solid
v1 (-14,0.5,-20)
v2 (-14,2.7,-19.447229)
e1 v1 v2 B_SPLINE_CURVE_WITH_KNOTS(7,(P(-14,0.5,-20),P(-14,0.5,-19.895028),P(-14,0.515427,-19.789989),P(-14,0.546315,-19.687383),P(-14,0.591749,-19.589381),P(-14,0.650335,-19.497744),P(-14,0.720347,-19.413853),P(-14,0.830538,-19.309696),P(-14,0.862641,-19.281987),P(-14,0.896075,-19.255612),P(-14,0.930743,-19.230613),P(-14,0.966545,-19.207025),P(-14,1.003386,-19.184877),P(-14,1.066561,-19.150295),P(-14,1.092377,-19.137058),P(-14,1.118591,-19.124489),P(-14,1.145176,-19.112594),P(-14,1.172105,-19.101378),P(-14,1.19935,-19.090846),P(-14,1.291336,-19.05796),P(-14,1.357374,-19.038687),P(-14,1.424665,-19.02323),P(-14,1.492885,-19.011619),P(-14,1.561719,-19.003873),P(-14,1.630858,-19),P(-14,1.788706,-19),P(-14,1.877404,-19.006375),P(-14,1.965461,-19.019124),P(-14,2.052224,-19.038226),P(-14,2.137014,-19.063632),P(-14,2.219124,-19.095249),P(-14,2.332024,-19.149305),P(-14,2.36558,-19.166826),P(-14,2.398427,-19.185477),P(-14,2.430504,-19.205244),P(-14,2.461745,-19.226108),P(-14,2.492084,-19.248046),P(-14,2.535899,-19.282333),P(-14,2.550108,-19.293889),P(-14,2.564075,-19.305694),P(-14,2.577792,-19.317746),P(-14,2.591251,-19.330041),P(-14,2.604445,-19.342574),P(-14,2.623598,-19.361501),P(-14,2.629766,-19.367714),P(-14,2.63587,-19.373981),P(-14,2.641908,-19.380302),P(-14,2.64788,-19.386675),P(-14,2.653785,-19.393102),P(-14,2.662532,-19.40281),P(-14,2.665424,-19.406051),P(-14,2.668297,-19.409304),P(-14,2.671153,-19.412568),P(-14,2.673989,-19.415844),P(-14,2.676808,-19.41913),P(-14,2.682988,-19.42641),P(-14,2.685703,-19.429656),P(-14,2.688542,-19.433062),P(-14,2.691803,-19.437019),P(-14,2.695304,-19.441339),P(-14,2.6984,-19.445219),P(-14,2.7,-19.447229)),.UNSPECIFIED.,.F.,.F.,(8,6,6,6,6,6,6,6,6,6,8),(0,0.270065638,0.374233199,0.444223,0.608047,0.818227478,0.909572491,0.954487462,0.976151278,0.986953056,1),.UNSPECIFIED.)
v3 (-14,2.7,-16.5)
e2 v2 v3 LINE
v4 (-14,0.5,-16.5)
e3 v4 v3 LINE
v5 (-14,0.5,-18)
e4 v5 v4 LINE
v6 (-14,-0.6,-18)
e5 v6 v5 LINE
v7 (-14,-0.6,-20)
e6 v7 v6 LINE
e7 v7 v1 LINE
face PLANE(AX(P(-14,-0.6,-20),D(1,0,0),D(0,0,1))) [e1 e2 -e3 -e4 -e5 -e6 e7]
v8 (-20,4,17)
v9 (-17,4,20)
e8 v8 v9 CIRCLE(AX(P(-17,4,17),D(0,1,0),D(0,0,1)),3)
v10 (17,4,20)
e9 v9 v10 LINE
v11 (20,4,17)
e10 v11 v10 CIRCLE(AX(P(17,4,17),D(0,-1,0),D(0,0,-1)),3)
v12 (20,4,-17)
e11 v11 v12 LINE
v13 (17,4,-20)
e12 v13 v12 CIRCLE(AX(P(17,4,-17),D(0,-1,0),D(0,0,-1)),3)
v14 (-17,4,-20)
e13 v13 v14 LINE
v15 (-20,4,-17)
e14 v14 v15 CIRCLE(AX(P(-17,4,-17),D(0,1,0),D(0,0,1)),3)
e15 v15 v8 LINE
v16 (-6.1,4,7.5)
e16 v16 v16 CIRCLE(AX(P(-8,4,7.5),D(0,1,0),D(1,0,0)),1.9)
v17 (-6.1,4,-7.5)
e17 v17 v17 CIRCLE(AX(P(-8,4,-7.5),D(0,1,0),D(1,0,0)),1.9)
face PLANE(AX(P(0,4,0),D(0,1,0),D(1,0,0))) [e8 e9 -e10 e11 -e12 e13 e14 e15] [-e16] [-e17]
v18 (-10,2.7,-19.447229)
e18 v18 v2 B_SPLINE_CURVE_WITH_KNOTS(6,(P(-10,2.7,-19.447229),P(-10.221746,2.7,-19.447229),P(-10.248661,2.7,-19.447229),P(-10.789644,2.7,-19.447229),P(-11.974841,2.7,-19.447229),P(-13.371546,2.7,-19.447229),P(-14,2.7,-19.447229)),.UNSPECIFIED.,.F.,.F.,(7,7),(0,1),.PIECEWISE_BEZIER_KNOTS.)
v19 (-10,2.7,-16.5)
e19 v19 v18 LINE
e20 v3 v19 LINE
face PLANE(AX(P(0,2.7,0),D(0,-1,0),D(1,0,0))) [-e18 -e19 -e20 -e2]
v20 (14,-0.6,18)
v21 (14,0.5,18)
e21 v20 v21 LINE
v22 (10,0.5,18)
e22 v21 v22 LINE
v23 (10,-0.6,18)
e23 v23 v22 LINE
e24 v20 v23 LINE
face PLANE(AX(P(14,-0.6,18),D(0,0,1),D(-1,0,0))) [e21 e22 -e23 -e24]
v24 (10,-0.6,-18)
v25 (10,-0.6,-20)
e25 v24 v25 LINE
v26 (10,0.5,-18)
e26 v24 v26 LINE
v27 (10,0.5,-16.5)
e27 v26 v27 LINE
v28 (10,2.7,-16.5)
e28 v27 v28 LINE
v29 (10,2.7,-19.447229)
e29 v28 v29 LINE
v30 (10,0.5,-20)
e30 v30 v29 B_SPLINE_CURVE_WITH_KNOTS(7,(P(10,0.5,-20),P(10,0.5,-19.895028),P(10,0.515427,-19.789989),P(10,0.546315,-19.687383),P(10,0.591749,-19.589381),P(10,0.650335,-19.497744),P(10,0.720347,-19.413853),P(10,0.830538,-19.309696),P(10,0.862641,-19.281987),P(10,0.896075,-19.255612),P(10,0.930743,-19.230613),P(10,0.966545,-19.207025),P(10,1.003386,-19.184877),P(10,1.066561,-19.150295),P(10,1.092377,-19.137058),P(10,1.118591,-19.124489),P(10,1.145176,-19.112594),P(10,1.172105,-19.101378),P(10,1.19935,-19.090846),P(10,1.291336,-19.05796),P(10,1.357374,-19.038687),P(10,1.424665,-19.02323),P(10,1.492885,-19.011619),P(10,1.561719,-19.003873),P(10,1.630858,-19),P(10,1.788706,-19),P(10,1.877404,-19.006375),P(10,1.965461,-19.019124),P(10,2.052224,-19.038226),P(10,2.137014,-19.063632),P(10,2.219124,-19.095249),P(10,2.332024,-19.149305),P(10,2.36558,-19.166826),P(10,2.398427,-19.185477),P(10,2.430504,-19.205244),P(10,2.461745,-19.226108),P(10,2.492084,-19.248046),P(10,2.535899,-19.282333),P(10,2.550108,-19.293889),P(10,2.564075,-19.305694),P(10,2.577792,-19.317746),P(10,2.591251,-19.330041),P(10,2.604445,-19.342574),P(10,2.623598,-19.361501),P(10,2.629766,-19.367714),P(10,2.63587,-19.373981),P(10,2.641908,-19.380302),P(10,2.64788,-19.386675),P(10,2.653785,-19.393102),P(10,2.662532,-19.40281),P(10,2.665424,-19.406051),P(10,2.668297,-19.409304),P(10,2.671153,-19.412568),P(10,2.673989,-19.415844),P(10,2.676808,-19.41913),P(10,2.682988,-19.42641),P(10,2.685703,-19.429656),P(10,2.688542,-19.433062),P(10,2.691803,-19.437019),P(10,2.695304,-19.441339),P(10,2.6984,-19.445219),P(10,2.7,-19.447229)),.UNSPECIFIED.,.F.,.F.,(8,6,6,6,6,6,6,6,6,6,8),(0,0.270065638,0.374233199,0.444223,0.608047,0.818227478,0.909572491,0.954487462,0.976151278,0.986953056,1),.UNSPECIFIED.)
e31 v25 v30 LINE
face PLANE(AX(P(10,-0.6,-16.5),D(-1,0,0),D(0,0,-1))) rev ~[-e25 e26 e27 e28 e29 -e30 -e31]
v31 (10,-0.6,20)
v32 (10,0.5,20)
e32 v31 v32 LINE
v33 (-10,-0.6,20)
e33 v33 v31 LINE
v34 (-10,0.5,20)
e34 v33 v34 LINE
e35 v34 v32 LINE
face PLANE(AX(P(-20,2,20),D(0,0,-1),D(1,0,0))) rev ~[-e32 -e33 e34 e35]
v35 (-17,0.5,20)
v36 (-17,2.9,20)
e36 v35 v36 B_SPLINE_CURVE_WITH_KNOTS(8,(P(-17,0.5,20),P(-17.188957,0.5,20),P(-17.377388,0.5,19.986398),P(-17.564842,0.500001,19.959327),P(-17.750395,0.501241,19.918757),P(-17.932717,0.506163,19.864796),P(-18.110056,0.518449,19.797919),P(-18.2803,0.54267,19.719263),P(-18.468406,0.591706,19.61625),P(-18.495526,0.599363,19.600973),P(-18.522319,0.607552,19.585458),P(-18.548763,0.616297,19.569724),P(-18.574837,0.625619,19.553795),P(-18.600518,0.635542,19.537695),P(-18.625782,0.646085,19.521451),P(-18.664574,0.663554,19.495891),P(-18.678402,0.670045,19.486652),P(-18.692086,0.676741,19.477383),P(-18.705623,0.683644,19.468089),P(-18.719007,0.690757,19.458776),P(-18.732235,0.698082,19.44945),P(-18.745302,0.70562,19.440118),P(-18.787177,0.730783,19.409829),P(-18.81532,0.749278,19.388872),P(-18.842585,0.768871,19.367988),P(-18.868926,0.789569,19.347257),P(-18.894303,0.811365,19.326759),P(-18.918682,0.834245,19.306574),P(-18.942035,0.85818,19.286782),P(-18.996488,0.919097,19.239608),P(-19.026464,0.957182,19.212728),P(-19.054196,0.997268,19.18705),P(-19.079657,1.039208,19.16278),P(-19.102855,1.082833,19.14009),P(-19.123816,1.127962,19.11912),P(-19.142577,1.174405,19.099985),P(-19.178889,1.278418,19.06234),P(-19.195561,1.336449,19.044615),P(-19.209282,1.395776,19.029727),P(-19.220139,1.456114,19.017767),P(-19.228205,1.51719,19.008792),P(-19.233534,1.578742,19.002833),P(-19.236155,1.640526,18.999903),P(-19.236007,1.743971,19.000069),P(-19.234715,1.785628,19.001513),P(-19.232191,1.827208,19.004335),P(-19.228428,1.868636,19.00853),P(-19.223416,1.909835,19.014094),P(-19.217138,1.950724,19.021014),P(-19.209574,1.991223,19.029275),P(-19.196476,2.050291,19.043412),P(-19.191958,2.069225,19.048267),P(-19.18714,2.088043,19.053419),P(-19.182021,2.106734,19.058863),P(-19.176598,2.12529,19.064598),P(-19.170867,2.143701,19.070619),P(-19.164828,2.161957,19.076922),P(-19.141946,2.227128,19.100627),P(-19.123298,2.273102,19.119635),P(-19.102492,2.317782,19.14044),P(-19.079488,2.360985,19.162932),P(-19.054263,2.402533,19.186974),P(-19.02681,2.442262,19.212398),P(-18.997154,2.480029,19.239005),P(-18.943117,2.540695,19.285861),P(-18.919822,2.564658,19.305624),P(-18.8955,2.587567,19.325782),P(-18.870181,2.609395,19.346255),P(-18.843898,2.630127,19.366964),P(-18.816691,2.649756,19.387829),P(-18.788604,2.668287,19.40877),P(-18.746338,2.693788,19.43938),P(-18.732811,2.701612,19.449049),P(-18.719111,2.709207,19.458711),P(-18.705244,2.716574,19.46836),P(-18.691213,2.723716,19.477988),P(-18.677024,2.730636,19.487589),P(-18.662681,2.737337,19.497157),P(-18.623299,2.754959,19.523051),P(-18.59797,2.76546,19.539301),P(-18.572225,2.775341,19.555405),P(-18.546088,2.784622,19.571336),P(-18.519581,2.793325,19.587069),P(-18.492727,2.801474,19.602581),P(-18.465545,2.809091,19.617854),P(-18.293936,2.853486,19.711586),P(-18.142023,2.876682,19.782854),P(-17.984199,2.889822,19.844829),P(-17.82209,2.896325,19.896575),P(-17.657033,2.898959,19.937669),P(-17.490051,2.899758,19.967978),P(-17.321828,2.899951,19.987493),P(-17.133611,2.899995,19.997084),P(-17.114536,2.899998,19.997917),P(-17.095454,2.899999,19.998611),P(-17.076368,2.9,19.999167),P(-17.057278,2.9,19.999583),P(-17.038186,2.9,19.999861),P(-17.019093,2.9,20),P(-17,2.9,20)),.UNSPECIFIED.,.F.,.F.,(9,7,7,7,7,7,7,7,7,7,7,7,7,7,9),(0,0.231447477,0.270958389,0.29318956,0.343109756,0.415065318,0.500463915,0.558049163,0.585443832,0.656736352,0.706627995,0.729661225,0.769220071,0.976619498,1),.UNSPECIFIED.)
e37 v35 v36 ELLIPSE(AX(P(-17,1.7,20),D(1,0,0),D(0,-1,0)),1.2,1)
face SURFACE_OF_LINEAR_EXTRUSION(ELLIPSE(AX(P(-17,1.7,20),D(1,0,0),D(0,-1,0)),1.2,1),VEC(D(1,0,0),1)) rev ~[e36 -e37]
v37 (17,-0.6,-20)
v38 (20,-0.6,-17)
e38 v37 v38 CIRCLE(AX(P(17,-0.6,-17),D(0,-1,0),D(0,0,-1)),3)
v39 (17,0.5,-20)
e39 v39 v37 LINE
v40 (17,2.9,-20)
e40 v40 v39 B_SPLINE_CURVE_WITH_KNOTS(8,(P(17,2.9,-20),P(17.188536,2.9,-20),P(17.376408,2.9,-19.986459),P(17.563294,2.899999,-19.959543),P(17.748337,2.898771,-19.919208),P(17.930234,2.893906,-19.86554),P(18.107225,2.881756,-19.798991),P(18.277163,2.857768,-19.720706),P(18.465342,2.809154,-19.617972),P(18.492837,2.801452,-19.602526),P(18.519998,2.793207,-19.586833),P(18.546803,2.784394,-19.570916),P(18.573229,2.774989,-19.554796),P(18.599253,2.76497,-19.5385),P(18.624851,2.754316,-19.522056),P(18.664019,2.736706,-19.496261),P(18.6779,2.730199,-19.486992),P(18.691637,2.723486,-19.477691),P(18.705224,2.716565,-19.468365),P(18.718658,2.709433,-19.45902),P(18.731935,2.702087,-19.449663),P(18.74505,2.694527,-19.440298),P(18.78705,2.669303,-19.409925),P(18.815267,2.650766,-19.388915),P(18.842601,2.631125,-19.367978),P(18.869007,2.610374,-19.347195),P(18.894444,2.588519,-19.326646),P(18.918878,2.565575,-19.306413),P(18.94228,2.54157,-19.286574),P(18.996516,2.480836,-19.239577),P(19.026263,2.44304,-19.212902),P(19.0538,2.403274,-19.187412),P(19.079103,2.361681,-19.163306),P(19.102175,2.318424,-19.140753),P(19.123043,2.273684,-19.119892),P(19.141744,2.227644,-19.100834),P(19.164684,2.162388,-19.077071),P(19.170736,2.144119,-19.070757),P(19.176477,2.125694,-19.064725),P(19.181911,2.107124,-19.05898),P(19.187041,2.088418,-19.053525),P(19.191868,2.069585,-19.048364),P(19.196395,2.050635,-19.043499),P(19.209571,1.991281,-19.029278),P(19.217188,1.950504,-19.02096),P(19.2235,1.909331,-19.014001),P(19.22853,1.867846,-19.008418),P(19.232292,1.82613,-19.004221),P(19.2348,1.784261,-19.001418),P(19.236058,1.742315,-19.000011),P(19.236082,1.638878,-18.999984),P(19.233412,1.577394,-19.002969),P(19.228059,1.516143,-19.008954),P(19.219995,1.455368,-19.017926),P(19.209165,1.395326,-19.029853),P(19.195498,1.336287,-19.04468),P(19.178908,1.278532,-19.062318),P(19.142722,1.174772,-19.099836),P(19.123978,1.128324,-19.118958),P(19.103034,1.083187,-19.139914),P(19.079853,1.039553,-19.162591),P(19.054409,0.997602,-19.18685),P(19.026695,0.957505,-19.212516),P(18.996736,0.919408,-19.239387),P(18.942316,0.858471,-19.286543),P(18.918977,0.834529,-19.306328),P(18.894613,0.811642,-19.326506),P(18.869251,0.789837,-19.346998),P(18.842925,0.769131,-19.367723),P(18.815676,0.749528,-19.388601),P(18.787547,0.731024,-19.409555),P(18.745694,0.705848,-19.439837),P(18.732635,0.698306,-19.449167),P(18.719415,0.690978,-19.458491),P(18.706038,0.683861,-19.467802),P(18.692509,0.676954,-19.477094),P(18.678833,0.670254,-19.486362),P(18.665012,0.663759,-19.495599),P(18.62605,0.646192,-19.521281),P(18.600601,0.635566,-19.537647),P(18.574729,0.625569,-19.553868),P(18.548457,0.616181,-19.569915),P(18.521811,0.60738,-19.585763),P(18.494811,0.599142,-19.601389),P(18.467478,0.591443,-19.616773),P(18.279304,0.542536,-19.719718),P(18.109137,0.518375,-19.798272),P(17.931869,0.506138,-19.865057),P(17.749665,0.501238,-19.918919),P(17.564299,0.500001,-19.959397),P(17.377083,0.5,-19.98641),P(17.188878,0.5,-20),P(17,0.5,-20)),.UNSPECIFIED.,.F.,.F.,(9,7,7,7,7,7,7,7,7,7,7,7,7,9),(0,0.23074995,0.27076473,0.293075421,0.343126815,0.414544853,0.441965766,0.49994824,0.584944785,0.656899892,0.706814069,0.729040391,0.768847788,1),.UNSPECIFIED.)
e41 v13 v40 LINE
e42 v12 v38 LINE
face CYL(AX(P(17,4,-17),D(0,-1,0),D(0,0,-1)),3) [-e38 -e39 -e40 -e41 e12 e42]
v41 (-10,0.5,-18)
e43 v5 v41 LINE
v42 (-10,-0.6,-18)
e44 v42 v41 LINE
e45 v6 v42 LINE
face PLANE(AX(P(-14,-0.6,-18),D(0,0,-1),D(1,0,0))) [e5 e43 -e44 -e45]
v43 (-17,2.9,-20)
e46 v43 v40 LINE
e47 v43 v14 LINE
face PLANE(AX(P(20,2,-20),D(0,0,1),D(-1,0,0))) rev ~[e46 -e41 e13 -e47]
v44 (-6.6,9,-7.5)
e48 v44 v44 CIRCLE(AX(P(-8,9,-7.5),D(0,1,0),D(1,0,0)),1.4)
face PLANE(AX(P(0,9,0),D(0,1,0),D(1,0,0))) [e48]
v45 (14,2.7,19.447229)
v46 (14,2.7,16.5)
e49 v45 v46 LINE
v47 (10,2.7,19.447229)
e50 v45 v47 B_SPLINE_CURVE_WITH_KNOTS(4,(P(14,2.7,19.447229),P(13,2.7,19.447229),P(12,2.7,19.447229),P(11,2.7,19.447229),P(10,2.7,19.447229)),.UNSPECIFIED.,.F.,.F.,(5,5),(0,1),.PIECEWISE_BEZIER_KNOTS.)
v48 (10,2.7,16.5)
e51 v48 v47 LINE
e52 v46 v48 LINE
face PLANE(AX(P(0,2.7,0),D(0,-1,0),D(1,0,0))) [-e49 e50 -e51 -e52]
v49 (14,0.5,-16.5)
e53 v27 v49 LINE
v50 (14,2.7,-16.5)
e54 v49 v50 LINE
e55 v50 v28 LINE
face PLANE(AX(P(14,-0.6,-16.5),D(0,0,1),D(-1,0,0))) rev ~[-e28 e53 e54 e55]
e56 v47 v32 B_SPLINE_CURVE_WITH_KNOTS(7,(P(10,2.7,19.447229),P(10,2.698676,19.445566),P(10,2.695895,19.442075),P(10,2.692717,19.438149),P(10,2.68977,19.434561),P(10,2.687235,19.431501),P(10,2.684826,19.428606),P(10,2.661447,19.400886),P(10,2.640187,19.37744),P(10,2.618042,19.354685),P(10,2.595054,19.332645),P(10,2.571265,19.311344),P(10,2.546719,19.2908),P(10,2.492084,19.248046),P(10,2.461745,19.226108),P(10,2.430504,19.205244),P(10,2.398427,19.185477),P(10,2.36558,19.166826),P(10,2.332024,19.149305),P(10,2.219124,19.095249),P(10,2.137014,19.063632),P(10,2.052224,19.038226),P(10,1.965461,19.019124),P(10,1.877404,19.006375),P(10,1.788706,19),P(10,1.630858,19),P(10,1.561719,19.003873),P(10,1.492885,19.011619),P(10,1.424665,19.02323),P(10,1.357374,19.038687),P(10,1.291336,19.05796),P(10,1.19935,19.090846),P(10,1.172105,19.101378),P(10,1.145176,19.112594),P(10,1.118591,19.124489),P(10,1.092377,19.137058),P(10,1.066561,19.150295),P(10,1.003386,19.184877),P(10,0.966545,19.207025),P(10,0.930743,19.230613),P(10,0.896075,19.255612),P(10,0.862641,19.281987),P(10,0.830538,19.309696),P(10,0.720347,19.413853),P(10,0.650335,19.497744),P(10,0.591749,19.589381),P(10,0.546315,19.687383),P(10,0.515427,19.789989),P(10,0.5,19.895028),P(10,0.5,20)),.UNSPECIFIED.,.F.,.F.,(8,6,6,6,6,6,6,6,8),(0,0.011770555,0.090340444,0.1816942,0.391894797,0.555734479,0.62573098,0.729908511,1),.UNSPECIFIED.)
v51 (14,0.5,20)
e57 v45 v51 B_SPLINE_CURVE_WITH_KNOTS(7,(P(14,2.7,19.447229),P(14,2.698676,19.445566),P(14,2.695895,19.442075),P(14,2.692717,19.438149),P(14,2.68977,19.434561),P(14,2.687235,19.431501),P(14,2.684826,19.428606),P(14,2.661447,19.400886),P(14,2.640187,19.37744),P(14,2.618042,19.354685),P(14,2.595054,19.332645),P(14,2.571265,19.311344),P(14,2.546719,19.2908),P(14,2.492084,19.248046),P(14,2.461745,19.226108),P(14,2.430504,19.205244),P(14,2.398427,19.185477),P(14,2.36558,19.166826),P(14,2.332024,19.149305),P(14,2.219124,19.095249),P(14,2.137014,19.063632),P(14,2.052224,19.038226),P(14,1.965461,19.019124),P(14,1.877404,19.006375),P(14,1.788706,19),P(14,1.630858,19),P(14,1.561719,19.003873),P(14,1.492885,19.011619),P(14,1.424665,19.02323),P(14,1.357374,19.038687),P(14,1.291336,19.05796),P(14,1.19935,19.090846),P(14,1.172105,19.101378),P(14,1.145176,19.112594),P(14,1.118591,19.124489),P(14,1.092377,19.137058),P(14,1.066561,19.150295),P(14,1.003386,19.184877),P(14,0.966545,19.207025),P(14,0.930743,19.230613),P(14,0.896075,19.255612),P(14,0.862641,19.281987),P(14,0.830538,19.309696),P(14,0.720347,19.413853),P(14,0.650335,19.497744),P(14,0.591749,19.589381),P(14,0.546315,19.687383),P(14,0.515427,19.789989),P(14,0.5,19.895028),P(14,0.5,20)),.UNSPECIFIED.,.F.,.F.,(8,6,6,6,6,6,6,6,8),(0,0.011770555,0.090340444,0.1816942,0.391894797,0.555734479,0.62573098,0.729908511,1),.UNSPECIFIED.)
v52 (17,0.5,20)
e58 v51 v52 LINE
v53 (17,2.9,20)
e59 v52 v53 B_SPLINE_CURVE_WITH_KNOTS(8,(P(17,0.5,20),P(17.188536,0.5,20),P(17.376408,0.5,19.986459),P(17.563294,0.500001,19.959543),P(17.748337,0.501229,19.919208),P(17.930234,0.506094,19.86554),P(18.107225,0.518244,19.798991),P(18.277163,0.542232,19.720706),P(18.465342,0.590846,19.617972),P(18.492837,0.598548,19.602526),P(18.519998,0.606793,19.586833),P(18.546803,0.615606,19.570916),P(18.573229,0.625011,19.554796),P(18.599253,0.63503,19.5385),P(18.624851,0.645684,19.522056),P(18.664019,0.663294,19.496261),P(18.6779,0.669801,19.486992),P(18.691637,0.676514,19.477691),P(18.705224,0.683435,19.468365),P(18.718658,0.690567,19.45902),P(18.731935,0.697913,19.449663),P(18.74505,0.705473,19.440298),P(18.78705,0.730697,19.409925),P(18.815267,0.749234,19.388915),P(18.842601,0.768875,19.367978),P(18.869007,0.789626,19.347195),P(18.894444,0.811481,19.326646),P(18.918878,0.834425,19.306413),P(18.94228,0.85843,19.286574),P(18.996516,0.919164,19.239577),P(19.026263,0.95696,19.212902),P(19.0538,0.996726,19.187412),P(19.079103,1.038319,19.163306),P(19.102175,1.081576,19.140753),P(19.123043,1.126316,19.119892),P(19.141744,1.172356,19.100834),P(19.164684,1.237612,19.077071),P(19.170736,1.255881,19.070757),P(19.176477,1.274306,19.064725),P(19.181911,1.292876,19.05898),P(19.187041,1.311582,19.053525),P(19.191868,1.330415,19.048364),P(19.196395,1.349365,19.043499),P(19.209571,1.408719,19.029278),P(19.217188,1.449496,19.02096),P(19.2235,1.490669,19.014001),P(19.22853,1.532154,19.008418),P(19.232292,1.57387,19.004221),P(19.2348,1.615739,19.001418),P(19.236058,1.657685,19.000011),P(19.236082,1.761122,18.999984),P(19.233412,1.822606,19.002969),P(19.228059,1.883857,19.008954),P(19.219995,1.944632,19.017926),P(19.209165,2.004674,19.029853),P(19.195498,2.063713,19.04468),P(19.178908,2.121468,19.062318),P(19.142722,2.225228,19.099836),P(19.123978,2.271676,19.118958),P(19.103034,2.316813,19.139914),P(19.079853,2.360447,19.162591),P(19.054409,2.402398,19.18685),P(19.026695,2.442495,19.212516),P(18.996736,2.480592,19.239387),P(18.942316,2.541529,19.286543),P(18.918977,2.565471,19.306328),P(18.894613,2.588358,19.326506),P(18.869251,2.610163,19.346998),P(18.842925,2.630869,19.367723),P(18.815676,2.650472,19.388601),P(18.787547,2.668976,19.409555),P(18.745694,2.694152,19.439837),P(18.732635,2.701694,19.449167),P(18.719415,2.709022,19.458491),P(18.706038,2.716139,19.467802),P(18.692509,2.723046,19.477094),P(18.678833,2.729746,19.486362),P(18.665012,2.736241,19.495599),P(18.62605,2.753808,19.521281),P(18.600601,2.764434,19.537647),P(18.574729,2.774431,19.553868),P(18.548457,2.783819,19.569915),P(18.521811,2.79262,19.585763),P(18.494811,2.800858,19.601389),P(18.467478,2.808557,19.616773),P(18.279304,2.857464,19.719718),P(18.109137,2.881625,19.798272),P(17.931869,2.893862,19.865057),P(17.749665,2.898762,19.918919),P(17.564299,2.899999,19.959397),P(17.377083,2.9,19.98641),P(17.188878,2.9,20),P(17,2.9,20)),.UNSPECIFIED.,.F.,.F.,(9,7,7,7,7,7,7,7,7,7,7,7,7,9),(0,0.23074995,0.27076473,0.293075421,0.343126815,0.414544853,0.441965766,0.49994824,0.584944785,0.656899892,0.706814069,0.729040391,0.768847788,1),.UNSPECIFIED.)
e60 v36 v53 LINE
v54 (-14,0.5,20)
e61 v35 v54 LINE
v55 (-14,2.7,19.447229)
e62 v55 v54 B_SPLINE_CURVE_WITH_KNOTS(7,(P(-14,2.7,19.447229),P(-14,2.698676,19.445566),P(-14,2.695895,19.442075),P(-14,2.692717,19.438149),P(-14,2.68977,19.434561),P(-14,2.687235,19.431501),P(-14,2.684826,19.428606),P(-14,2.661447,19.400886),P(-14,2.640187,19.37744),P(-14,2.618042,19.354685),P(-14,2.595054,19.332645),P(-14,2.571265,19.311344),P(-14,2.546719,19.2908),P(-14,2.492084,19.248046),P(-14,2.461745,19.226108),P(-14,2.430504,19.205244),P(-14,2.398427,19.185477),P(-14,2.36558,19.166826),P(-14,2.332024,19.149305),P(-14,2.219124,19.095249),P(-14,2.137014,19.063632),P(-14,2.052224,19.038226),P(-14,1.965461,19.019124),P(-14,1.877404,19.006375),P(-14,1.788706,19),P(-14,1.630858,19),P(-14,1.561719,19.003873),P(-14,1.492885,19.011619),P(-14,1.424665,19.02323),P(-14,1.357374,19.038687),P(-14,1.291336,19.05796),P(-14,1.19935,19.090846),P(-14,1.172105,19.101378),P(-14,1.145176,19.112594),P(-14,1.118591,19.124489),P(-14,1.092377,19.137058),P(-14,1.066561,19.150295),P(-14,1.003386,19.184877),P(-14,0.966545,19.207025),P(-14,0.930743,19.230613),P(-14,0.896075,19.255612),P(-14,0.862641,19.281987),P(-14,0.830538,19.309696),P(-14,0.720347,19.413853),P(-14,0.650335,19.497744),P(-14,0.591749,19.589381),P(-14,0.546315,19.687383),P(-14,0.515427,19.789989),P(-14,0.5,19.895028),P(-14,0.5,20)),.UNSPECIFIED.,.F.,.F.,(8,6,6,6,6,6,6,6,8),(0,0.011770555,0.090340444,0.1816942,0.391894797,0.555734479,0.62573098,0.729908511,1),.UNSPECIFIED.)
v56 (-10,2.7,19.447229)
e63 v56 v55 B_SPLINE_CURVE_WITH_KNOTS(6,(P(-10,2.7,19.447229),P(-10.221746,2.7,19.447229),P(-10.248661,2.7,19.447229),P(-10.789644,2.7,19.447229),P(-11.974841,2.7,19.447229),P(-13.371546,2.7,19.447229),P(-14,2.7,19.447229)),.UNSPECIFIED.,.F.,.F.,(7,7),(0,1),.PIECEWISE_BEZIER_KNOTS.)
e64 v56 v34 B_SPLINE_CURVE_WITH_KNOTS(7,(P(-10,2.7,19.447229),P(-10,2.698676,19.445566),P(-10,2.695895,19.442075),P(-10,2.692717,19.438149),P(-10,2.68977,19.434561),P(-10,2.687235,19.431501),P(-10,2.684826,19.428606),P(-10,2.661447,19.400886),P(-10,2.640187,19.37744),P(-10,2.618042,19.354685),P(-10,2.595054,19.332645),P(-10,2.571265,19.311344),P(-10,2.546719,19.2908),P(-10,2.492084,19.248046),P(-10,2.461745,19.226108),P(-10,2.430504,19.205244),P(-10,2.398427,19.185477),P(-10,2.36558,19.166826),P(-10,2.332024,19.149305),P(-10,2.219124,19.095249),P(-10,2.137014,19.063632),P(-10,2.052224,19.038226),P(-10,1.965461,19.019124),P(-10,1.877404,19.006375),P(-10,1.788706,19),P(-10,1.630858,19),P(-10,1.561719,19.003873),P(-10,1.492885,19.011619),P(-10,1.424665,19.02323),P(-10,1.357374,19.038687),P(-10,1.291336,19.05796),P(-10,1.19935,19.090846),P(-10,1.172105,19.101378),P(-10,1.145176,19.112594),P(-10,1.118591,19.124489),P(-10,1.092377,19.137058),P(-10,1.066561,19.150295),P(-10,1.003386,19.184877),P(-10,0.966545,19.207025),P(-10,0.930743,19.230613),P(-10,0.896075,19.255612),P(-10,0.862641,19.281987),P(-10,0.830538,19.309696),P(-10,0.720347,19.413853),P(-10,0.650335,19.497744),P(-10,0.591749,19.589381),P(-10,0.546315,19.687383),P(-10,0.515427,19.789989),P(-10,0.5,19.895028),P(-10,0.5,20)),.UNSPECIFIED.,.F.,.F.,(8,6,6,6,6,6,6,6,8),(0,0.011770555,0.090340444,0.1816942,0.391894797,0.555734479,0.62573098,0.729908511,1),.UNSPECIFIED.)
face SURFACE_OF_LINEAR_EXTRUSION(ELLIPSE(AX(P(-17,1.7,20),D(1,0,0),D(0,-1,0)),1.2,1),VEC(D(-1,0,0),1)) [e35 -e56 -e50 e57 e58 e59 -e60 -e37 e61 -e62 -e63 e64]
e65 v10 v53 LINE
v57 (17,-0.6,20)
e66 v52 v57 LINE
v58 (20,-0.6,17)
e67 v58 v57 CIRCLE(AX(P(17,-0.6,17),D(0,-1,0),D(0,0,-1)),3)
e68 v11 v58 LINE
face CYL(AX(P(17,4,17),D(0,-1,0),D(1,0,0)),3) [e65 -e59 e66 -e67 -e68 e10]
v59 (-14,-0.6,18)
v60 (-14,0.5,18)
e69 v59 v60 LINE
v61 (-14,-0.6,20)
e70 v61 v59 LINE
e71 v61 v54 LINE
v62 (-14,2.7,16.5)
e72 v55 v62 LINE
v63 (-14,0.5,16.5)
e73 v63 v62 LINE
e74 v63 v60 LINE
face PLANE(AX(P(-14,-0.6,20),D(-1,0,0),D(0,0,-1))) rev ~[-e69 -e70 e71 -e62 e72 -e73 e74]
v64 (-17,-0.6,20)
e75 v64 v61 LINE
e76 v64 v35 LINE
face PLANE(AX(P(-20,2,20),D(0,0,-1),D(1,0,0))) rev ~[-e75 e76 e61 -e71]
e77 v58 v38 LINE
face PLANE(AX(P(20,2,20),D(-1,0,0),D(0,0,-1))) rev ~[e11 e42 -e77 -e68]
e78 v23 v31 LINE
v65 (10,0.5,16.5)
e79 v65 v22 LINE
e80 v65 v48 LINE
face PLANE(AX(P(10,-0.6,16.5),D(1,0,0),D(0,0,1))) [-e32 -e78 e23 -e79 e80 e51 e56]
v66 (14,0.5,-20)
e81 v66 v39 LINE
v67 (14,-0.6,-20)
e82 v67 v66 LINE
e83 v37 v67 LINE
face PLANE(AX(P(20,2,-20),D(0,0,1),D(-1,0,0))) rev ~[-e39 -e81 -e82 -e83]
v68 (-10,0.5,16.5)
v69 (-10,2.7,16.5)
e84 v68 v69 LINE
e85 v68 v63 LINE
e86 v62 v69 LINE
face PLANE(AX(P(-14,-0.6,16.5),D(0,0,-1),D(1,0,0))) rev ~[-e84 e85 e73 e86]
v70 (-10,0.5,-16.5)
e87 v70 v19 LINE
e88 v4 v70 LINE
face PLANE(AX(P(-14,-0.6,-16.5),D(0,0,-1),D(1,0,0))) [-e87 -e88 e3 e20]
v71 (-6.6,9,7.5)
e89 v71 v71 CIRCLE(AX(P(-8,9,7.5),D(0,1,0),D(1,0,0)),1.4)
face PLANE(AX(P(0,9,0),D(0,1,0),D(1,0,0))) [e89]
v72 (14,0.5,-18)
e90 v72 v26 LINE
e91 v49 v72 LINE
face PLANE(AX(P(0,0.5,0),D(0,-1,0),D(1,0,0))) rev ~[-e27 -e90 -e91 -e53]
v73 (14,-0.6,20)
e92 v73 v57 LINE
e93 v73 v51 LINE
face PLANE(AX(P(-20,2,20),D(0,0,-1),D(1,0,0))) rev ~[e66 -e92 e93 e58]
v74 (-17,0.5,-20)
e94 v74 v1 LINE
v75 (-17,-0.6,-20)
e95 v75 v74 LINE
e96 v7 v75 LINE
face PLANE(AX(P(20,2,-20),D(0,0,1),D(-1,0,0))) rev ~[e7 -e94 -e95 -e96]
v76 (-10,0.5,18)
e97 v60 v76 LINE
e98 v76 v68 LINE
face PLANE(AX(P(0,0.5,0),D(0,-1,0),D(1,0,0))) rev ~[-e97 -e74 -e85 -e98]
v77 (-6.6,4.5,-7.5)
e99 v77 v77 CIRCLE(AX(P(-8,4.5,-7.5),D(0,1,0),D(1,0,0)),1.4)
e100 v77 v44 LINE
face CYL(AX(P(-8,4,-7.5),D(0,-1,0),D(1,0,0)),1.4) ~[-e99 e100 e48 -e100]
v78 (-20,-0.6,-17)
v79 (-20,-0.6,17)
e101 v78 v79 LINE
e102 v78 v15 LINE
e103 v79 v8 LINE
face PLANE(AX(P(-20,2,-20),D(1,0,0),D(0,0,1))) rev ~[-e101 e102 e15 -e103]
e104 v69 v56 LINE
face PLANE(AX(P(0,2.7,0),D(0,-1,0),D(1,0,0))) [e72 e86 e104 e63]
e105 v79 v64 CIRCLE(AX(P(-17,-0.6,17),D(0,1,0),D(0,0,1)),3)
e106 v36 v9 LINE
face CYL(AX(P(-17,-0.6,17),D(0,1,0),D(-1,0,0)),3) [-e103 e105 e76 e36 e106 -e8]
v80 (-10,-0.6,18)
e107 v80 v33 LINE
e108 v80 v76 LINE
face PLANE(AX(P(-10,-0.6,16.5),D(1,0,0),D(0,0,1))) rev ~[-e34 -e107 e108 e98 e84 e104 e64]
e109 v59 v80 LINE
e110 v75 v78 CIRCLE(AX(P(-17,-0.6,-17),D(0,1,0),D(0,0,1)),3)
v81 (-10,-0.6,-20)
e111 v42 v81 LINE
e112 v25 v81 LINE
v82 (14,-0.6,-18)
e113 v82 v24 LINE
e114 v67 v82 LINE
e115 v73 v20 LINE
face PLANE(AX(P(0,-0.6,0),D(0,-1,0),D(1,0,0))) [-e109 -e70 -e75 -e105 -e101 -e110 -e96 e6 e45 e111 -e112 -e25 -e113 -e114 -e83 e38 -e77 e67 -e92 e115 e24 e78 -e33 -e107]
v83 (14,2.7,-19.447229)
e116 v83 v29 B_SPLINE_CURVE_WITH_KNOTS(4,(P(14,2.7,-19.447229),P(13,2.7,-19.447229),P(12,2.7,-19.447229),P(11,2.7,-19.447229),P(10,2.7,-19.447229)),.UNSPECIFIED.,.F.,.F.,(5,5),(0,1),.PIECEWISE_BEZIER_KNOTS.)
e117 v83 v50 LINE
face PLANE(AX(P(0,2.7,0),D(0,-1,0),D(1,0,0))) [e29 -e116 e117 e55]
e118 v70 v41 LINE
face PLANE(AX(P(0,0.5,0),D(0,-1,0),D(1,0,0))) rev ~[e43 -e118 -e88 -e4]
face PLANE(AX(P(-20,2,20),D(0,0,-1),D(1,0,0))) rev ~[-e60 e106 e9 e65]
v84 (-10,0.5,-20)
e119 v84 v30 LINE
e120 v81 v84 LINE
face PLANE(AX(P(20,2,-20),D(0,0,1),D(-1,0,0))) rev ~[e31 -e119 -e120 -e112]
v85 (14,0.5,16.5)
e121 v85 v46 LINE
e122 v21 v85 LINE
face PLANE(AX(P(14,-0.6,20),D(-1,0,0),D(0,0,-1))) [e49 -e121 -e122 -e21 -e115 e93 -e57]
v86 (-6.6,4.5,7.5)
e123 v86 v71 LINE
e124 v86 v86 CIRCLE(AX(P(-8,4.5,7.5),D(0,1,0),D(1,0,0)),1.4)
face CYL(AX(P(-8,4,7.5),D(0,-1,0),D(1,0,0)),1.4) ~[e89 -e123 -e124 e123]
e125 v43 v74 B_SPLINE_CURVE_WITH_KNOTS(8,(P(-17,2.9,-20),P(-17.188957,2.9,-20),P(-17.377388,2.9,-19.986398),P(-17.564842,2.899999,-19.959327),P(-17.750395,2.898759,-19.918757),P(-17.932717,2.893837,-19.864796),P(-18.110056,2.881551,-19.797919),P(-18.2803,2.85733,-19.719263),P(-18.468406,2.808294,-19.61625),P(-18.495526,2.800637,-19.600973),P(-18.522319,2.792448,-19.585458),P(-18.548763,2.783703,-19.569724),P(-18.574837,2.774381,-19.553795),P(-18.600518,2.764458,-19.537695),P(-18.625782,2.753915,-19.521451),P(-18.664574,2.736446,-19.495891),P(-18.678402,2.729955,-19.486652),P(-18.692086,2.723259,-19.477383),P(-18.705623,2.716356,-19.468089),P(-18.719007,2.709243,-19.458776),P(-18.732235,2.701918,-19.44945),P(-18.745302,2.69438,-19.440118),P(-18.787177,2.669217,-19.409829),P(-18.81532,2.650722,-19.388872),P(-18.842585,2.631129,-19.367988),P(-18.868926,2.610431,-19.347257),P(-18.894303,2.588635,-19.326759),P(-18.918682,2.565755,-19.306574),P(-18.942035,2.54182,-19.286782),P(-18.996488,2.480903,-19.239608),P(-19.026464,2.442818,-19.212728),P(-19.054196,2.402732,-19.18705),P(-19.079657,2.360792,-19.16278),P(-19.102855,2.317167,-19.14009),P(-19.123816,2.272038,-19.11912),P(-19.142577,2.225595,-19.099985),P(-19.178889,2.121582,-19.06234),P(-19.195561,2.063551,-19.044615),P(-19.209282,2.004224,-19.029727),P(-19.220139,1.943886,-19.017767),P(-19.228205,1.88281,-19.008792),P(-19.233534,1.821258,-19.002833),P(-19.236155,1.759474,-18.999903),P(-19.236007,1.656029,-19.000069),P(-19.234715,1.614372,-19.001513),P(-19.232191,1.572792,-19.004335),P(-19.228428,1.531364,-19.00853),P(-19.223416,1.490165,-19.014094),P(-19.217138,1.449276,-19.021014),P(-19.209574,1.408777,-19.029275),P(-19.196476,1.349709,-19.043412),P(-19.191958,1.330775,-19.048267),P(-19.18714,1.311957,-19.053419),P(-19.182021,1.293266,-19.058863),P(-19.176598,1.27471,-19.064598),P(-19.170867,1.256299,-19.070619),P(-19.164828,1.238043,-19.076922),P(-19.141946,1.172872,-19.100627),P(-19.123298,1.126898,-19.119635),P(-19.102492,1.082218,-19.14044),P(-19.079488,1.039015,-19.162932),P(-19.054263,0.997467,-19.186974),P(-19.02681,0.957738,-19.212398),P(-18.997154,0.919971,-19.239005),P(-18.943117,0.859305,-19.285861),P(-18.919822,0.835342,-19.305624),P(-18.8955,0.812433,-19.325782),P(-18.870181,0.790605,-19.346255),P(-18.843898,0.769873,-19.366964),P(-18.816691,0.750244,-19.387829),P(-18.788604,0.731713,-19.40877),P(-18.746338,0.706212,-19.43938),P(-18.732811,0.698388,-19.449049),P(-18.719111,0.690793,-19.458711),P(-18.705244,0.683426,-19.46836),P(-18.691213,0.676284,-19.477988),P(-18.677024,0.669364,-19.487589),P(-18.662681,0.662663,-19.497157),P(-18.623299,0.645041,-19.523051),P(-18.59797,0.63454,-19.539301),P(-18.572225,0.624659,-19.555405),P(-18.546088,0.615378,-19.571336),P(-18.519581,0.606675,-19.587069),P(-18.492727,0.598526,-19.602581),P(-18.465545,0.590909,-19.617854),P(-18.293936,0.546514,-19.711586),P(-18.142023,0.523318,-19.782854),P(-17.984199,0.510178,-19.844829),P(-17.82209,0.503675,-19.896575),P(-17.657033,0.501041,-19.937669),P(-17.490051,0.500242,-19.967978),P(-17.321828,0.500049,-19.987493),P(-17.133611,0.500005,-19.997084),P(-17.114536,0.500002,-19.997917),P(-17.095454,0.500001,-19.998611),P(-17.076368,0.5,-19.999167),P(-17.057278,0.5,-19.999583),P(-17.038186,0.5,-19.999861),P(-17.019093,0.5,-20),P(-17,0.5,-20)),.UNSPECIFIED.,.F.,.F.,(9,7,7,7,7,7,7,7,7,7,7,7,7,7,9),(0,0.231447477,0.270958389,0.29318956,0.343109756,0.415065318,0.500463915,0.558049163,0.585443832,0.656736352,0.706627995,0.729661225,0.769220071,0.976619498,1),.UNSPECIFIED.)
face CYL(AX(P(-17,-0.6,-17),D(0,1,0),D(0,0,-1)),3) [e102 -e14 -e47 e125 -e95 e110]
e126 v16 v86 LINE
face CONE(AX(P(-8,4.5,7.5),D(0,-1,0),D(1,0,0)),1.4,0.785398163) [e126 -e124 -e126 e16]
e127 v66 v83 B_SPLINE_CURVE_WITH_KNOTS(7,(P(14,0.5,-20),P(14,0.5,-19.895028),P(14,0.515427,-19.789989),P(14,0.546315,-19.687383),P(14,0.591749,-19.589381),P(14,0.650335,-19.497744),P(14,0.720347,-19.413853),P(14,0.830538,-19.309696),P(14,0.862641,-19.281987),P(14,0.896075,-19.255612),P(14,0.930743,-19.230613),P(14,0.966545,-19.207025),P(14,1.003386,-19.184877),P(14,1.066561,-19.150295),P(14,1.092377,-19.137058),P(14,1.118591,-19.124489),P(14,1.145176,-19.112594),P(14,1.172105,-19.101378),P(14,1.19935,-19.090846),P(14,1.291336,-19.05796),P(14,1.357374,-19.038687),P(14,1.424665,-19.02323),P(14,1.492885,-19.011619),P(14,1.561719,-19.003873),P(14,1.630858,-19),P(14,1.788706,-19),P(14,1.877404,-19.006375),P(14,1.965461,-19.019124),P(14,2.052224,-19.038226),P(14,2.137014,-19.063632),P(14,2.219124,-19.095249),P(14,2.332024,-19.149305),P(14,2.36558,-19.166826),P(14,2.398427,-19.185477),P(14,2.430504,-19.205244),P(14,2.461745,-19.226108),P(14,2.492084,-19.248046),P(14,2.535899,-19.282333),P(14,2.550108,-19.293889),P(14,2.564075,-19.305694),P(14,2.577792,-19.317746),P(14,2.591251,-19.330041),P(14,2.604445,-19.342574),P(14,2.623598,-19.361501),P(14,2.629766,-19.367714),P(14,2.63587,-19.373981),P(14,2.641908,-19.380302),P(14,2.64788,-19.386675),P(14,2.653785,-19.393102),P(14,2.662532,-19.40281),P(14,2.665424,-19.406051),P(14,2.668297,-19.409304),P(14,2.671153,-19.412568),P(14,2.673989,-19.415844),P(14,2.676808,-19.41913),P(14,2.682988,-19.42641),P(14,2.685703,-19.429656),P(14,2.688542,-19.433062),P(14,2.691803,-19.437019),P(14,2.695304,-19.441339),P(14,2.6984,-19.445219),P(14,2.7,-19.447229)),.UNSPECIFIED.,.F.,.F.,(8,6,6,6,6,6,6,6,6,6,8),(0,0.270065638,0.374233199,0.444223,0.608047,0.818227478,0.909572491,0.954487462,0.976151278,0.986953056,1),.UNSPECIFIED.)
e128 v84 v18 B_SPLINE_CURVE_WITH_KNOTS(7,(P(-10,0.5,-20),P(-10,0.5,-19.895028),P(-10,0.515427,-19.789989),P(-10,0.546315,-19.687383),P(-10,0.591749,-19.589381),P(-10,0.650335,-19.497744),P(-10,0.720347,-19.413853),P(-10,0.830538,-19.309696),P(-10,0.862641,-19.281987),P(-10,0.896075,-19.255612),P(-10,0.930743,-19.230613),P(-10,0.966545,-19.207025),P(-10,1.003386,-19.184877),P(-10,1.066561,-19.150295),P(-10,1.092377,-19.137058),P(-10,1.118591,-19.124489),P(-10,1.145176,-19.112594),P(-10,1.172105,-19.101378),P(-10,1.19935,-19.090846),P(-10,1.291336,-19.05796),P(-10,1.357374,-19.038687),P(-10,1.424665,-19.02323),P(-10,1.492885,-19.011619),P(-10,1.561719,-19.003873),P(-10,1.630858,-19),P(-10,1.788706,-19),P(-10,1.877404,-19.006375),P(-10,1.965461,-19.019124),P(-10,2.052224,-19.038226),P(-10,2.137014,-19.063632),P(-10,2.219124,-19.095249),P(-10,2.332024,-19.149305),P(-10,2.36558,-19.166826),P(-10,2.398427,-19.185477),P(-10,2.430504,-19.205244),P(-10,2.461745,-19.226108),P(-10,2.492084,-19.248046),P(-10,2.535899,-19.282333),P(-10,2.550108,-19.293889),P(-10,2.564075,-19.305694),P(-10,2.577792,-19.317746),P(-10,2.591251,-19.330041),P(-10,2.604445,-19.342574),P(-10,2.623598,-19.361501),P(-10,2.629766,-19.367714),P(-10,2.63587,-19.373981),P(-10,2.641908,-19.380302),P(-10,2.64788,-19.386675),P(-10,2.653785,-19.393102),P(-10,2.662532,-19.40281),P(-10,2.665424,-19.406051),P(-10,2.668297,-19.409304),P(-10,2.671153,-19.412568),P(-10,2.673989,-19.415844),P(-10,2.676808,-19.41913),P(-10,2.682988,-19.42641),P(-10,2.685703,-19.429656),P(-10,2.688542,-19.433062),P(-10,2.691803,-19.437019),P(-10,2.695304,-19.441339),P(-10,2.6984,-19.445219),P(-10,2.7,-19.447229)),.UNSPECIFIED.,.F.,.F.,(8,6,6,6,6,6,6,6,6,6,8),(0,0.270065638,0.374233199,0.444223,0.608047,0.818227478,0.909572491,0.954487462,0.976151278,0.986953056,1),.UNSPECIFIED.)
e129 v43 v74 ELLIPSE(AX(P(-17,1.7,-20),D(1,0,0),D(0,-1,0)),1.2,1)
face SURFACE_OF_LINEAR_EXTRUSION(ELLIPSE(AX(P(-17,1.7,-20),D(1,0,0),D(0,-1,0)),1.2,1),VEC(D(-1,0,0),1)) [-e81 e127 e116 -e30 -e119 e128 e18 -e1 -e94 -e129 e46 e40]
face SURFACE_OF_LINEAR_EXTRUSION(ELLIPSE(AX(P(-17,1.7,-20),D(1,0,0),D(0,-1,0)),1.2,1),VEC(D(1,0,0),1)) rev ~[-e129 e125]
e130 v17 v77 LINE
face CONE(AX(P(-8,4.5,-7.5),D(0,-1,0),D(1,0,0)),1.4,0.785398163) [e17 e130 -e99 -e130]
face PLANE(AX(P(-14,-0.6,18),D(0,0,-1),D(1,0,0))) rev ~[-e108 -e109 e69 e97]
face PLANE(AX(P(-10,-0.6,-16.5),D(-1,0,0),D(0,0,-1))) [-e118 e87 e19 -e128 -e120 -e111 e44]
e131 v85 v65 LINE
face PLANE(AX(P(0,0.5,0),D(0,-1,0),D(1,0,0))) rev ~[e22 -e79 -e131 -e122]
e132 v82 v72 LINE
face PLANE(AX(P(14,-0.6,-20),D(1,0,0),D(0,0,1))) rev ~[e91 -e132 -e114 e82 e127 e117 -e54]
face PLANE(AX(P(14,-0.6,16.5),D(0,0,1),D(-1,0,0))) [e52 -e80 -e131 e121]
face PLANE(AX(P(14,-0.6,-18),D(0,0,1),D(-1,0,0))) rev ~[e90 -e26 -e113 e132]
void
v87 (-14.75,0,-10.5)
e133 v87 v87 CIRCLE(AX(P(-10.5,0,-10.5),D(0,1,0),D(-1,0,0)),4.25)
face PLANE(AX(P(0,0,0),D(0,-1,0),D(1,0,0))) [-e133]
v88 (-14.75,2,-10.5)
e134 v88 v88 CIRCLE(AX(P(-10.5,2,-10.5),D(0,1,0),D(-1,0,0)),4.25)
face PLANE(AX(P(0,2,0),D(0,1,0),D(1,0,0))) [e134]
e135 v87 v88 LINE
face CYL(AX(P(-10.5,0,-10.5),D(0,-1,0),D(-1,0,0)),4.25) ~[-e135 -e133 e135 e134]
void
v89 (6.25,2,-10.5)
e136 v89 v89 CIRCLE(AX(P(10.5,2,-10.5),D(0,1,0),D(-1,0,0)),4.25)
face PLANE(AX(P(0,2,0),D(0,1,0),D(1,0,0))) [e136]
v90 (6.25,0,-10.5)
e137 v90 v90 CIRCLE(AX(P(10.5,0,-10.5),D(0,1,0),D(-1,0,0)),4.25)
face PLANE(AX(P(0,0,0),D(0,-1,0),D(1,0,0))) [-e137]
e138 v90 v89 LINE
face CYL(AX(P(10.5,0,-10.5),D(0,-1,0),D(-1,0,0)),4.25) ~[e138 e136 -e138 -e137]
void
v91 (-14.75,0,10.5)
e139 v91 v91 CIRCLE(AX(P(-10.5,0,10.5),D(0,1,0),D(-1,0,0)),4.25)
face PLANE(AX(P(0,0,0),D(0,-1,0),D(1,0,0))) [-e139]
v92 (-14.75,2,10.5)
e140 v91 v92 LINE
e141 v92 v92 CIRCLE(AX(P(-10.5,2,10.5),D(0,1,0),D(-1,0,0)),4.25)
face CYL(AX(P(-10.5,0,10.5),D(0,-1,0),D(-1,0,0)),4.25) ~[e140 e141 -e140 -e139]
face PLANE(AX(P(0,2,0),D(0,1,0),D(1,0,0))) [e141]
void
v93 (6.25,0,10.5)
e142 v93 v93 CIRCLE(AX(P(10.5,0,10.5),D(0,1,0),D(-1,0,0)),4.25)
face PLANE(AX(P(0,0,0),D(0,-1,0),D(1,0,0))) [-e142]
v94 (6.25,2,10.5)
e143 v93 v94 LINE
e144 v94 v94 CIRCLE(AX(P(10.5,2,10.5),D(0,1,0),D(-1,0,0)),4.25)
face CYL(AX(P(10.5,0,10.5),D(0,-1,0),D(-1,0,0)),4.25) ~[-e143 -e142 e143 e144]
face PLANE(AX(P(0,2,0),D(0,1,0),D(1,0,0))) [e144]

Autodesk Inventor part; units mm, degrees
ref_plane "YZ Plane" through (0, 0, 0) normal (1, 0, 0) x (0, 1, 0)
ref_plane "XZ Plane" through (0, 0, 0) normal (0, 1, 0) x (-1, 0, 0)
sketch "Sketch1" plane through (0, 0, 0) normal (0, 1, 0) x (-1, 0, 0)
  line L0 (20, 20) -> (-20, 20)
  line L1 (-20, 20) -> (-20, -20)
  line L2 (-20, -20) -> (20, -20)
  line L3 (20, -20) -> (20, 20)
  circle A0 centre (10.5, 10.5) radius 4.25
  circle A1 centre (10.5, -10.5) radius 4.25
  circle A2 centre (-10.5, -10.5) radius 4.25
  circle A3 centre (-10.5, 10.5) radius 4.25
  line L4 (20, 0) -> (-20, 0) construction
  line L5 (0, 20) -> (0, -20) construction
  point P0 (0, 0)
  dimension "d0" = 40
  dimension "d1" = 40
  dimension "d2" = 8.5
  dimension "d3" = 21
  dimension "d4" = 21
extrude "Extrusion2" add sketch "Sketch1" along normal blind 2
sketch "Sketch2" plane through (0, 0, 0) normal (0, -1, 0) x (1, 0, 0)
  line L0 (20, 20) -> (20, -20) projected
  line L1 (-20, 20) -> (20, 20) projected
  line L2 (-20, -20) -> (-20, 20) projected
  line L3 (20, -20) -> (-20, -20) projected
  point P0 (0, 0)
extrude "Extrusion3" add sketch "Sketch2" along normal blind 0.6
sketch "Sketch3" plane through (0, 2, 0) normal (0, 1, 0) x (1, 0, 0)
  line L0 (-20, 20) -> (-20, -20) projected
  line L1 (-20, -20) -> (20, -20) projected
  line L2 (20, -20) -> (20, 20) projected
  line L3 (20, 20) -> (-20, 20) projected
  point P0 (0, 0)
extrude "Extrusion4" add sketch "Sketch3" along normal blind 2
fillet "Fillet1" radius 3 4 edges at (-20, 1.7, 20) (-20, 1.7, -20) (20, 1.7, 20) (20, 1.7, -20)
ref_plane "Arbeitsebene1" through (-17, 4, 20) normal (1, 0, 0) x (0, -1, 0)
sketch "Skizze5" plane through (-17, 4, 20) normal (1, 0, 0) x (0, -1, 0)
  line L0 (0, 0) -> (4.6, 0) construction
  line L1 (0, 0) -> (0, 3) construction
  line L2 (0.7, 0) -> (3.5, 0) construction
  line L3 (6.1491, 20) -> (-1.642, 20) construction
  line L4 (0, 40) -> (4.6, 40) construction
  line L5 (0.7, 40) -> (3.5, 40) construction
  line L6 (2.3, 0) -> (2.3, 4.6722) construction
  ellipse E0 centre (2.3, 0) end of major axis (3.5, 0) minor radius 1
  line L7 (1.1, 0) -> (3.5, 0)
  line L8 (0, 40) -> (4.6, 40) construction
  line L9 (0.7, 40) -> (3.5, 40) construction
  ellipse E1 centre (2.3, 40) end of major axis (3.5, 40) minor radius 1
  line L10 (1.1, 40) -> (3.5, 40)
  point P0 (4, 20)
  point P1 (2.3, 1)
  dimension "d22" = 2.3
  dimension "d23" = 1.2
  dimension "d28" = 1
extrude "Extrusion7" cut sketch "Skizze5" along normal blind 37 and the other way blind 5 contours L7 E0 | E1 L10 picked at (2.3176, 0.333) picked at (2.2824, 39.667)
sketch "Skizze6" plane through (0, -0.6, 0) normal (0, -1, 0) x (1, 0, 0)
  line L0 (17, 20) -> (-17, 20) projected
  line L1 (-20, 17) -> (-20, -17) construction
  line L2 (-14, 20) -> (-14, 16.5)
  line L3 (-14, 20) -> (-10, 20)
  line L4 (0, 16.6905) -> (0, 25.5183)
  line L5 (7.2129, 0) -> (-7.9382, 0)
  line L6 (-17, 20) -> (17, 20)
  line L7 (14, 20) -> (10, 20)
  line L8 (17, -20) -> (-17, -20)
  line L9 (-14, 16.5) -> (-10, 16.5)
  line L10 (-10, 16.5) -> (-10, 20)
  line L11 (-17, -20) -> (17, -20) projected
  line L12 (14, 20) -> (14, 16.5)
  line L13 (14, 16.5) -> (10, 16.5)
  line L14 (10, 16.5) -> (10, 20)
  line L15 (-14, -20) -> (-14, -16.5)
  line L16 (-14, -16.5) -> (-10, -16.5)
  line L17 (-10, -16.5) -> (-10, -20)
  line L18 (10, -16.5) -> (10, -20)
  line L19 (14, -16.5) -> (10, -16.5)
  line L20 (14, -20) -> (14, -16.5)
  point P0 (0, 0)
  point P1 (-12, 20)
  dimension "d34" = 8
  dimension "d35" = 2
  dimension "d41" = 3.5
  dimension "d42" = 4
extrude "Extrusion8" cut sketch "Skizze6" against normal blind 3.3
sketch "Skizze8" plane through (0, -0.6, 0) normal (0, -1, 0) x (1, 0, 0)
  line L0 (-10, 20) -> (-10, 16.5) projected
  line L1 (-10, 16.5) -> (-14, 16.5) projected
  line L2 (-14, -20) -> (-14, -16.5) projected
  line L3 (-14, -16.5) -> (-10, -16.5) projected
  line L4 (-10, -16.5) -> (-10, -20) projected
  line L5 (-10, -20) -> (10, -20) projected
  line L6 (10, -20) -> (10, -16.5) projected
  line L7 (10, -16.5) -> (14, -16.5) projected
  line L8 (14, -16.5) -> (14, -20) projected
  line L9 (14, -20) -> (17, -20) projected
  arc A0 (17, -20) -> (20, -17) centre (17, -17) ccw projected
  line L10 (20, -17) -> (20, 17) projected
  arc A1 (20, 17) -> (17, 20) centre (17, 17) ccw projected
  line L11 (17, 20) -> (14, 20) projected
  line L12 (14, 20) -> (14, 16.5) projected
  line L13 (14, 16.5) -> (10, 16.5) projected
  line L14 (10, 16.5) -> (10, 20) projected
  line L15 (10, 20) -> (-10, 20) projected
  line L16 (-10, 20) -> (-10, 16.5) projected
  line L17 (-10, 16.5) -> (-14, 16.5) projected
  line L18 (-14, 16.5) -> (-14, 20) projected
  line L19 (-14, 20) -> (-17, 20) projected
  arc A2 (-17, 20) -> (-20, 17) centre (-17, 17) ccw projected
  line L20 (-20, 17) -> (-20, -17) projected
  arc A3 (-20, -17) -> (-17, -20) centre (-17, -17) ccw projected
  line L21 (-17, -20) -> (-14, -20) projected
  line L22 (0, 16.7549) -> (0, 9.0333)
  line L23 (12, 0) -> (-14, 0)
  line L24 (-10, 16.5) -> (-14, 16.5)
  line L25 (-14, 16.5) -> (-14, 18)
  line L26 (-14, 18) -> (-10, 18)
  line L27 (-10, 18) -> (-10, 16.5)
  line L28 (10, 20) -> (10, 16.5)
  line L29 (10, 16.5) -> (14, 16.5)
  line L30 (14, 16.5) -> (14, 18)
  line L31 (14, 18) -> (10, 18)
  line L32 (10, 18) -> (10, 16.5)
  line L33 (-14, -18) -> (-10, -18)
  line L34 (14, -18) -> (10, -18)
  point P0 (0, 0)
  dimension "d47" = 1.5
extrude "Extrusion10" add sketch "Skizze8" against normal blind 1.1 contours L0 L1 L18 L26 | L31 L12 L13 L14 | L2 L3 L4 L33 | L34 L6 L7 L8
sketch "Skizze9" plane through (0, 4, 0) normal (0, 1, 0) x (1, 0, 0)
  line L0 (-20, 17) -> (-20, -17) projected
  circle A0 centre (-8, -7.5) radius 1.4
  line L1 (-2.4635, 0) -> (-12.5282, 0) construction
  circle A1 centre (-8, 7.5) radius 1.4
  point P0 (0, 0)
  dimension "d55" = 7.5
  dimension "d56" = 12
  dimension "d57" = 2.8
extrude "Extrusion11" add sketch "Skizze9" along normal blind 5
chamfer "Fasen2" distance 0.5 angle 45 2 edges at (-9.4, 4, -7.5) (-9.4, 4, 7.5)
properties part number "IMU_mount_baseplate"
